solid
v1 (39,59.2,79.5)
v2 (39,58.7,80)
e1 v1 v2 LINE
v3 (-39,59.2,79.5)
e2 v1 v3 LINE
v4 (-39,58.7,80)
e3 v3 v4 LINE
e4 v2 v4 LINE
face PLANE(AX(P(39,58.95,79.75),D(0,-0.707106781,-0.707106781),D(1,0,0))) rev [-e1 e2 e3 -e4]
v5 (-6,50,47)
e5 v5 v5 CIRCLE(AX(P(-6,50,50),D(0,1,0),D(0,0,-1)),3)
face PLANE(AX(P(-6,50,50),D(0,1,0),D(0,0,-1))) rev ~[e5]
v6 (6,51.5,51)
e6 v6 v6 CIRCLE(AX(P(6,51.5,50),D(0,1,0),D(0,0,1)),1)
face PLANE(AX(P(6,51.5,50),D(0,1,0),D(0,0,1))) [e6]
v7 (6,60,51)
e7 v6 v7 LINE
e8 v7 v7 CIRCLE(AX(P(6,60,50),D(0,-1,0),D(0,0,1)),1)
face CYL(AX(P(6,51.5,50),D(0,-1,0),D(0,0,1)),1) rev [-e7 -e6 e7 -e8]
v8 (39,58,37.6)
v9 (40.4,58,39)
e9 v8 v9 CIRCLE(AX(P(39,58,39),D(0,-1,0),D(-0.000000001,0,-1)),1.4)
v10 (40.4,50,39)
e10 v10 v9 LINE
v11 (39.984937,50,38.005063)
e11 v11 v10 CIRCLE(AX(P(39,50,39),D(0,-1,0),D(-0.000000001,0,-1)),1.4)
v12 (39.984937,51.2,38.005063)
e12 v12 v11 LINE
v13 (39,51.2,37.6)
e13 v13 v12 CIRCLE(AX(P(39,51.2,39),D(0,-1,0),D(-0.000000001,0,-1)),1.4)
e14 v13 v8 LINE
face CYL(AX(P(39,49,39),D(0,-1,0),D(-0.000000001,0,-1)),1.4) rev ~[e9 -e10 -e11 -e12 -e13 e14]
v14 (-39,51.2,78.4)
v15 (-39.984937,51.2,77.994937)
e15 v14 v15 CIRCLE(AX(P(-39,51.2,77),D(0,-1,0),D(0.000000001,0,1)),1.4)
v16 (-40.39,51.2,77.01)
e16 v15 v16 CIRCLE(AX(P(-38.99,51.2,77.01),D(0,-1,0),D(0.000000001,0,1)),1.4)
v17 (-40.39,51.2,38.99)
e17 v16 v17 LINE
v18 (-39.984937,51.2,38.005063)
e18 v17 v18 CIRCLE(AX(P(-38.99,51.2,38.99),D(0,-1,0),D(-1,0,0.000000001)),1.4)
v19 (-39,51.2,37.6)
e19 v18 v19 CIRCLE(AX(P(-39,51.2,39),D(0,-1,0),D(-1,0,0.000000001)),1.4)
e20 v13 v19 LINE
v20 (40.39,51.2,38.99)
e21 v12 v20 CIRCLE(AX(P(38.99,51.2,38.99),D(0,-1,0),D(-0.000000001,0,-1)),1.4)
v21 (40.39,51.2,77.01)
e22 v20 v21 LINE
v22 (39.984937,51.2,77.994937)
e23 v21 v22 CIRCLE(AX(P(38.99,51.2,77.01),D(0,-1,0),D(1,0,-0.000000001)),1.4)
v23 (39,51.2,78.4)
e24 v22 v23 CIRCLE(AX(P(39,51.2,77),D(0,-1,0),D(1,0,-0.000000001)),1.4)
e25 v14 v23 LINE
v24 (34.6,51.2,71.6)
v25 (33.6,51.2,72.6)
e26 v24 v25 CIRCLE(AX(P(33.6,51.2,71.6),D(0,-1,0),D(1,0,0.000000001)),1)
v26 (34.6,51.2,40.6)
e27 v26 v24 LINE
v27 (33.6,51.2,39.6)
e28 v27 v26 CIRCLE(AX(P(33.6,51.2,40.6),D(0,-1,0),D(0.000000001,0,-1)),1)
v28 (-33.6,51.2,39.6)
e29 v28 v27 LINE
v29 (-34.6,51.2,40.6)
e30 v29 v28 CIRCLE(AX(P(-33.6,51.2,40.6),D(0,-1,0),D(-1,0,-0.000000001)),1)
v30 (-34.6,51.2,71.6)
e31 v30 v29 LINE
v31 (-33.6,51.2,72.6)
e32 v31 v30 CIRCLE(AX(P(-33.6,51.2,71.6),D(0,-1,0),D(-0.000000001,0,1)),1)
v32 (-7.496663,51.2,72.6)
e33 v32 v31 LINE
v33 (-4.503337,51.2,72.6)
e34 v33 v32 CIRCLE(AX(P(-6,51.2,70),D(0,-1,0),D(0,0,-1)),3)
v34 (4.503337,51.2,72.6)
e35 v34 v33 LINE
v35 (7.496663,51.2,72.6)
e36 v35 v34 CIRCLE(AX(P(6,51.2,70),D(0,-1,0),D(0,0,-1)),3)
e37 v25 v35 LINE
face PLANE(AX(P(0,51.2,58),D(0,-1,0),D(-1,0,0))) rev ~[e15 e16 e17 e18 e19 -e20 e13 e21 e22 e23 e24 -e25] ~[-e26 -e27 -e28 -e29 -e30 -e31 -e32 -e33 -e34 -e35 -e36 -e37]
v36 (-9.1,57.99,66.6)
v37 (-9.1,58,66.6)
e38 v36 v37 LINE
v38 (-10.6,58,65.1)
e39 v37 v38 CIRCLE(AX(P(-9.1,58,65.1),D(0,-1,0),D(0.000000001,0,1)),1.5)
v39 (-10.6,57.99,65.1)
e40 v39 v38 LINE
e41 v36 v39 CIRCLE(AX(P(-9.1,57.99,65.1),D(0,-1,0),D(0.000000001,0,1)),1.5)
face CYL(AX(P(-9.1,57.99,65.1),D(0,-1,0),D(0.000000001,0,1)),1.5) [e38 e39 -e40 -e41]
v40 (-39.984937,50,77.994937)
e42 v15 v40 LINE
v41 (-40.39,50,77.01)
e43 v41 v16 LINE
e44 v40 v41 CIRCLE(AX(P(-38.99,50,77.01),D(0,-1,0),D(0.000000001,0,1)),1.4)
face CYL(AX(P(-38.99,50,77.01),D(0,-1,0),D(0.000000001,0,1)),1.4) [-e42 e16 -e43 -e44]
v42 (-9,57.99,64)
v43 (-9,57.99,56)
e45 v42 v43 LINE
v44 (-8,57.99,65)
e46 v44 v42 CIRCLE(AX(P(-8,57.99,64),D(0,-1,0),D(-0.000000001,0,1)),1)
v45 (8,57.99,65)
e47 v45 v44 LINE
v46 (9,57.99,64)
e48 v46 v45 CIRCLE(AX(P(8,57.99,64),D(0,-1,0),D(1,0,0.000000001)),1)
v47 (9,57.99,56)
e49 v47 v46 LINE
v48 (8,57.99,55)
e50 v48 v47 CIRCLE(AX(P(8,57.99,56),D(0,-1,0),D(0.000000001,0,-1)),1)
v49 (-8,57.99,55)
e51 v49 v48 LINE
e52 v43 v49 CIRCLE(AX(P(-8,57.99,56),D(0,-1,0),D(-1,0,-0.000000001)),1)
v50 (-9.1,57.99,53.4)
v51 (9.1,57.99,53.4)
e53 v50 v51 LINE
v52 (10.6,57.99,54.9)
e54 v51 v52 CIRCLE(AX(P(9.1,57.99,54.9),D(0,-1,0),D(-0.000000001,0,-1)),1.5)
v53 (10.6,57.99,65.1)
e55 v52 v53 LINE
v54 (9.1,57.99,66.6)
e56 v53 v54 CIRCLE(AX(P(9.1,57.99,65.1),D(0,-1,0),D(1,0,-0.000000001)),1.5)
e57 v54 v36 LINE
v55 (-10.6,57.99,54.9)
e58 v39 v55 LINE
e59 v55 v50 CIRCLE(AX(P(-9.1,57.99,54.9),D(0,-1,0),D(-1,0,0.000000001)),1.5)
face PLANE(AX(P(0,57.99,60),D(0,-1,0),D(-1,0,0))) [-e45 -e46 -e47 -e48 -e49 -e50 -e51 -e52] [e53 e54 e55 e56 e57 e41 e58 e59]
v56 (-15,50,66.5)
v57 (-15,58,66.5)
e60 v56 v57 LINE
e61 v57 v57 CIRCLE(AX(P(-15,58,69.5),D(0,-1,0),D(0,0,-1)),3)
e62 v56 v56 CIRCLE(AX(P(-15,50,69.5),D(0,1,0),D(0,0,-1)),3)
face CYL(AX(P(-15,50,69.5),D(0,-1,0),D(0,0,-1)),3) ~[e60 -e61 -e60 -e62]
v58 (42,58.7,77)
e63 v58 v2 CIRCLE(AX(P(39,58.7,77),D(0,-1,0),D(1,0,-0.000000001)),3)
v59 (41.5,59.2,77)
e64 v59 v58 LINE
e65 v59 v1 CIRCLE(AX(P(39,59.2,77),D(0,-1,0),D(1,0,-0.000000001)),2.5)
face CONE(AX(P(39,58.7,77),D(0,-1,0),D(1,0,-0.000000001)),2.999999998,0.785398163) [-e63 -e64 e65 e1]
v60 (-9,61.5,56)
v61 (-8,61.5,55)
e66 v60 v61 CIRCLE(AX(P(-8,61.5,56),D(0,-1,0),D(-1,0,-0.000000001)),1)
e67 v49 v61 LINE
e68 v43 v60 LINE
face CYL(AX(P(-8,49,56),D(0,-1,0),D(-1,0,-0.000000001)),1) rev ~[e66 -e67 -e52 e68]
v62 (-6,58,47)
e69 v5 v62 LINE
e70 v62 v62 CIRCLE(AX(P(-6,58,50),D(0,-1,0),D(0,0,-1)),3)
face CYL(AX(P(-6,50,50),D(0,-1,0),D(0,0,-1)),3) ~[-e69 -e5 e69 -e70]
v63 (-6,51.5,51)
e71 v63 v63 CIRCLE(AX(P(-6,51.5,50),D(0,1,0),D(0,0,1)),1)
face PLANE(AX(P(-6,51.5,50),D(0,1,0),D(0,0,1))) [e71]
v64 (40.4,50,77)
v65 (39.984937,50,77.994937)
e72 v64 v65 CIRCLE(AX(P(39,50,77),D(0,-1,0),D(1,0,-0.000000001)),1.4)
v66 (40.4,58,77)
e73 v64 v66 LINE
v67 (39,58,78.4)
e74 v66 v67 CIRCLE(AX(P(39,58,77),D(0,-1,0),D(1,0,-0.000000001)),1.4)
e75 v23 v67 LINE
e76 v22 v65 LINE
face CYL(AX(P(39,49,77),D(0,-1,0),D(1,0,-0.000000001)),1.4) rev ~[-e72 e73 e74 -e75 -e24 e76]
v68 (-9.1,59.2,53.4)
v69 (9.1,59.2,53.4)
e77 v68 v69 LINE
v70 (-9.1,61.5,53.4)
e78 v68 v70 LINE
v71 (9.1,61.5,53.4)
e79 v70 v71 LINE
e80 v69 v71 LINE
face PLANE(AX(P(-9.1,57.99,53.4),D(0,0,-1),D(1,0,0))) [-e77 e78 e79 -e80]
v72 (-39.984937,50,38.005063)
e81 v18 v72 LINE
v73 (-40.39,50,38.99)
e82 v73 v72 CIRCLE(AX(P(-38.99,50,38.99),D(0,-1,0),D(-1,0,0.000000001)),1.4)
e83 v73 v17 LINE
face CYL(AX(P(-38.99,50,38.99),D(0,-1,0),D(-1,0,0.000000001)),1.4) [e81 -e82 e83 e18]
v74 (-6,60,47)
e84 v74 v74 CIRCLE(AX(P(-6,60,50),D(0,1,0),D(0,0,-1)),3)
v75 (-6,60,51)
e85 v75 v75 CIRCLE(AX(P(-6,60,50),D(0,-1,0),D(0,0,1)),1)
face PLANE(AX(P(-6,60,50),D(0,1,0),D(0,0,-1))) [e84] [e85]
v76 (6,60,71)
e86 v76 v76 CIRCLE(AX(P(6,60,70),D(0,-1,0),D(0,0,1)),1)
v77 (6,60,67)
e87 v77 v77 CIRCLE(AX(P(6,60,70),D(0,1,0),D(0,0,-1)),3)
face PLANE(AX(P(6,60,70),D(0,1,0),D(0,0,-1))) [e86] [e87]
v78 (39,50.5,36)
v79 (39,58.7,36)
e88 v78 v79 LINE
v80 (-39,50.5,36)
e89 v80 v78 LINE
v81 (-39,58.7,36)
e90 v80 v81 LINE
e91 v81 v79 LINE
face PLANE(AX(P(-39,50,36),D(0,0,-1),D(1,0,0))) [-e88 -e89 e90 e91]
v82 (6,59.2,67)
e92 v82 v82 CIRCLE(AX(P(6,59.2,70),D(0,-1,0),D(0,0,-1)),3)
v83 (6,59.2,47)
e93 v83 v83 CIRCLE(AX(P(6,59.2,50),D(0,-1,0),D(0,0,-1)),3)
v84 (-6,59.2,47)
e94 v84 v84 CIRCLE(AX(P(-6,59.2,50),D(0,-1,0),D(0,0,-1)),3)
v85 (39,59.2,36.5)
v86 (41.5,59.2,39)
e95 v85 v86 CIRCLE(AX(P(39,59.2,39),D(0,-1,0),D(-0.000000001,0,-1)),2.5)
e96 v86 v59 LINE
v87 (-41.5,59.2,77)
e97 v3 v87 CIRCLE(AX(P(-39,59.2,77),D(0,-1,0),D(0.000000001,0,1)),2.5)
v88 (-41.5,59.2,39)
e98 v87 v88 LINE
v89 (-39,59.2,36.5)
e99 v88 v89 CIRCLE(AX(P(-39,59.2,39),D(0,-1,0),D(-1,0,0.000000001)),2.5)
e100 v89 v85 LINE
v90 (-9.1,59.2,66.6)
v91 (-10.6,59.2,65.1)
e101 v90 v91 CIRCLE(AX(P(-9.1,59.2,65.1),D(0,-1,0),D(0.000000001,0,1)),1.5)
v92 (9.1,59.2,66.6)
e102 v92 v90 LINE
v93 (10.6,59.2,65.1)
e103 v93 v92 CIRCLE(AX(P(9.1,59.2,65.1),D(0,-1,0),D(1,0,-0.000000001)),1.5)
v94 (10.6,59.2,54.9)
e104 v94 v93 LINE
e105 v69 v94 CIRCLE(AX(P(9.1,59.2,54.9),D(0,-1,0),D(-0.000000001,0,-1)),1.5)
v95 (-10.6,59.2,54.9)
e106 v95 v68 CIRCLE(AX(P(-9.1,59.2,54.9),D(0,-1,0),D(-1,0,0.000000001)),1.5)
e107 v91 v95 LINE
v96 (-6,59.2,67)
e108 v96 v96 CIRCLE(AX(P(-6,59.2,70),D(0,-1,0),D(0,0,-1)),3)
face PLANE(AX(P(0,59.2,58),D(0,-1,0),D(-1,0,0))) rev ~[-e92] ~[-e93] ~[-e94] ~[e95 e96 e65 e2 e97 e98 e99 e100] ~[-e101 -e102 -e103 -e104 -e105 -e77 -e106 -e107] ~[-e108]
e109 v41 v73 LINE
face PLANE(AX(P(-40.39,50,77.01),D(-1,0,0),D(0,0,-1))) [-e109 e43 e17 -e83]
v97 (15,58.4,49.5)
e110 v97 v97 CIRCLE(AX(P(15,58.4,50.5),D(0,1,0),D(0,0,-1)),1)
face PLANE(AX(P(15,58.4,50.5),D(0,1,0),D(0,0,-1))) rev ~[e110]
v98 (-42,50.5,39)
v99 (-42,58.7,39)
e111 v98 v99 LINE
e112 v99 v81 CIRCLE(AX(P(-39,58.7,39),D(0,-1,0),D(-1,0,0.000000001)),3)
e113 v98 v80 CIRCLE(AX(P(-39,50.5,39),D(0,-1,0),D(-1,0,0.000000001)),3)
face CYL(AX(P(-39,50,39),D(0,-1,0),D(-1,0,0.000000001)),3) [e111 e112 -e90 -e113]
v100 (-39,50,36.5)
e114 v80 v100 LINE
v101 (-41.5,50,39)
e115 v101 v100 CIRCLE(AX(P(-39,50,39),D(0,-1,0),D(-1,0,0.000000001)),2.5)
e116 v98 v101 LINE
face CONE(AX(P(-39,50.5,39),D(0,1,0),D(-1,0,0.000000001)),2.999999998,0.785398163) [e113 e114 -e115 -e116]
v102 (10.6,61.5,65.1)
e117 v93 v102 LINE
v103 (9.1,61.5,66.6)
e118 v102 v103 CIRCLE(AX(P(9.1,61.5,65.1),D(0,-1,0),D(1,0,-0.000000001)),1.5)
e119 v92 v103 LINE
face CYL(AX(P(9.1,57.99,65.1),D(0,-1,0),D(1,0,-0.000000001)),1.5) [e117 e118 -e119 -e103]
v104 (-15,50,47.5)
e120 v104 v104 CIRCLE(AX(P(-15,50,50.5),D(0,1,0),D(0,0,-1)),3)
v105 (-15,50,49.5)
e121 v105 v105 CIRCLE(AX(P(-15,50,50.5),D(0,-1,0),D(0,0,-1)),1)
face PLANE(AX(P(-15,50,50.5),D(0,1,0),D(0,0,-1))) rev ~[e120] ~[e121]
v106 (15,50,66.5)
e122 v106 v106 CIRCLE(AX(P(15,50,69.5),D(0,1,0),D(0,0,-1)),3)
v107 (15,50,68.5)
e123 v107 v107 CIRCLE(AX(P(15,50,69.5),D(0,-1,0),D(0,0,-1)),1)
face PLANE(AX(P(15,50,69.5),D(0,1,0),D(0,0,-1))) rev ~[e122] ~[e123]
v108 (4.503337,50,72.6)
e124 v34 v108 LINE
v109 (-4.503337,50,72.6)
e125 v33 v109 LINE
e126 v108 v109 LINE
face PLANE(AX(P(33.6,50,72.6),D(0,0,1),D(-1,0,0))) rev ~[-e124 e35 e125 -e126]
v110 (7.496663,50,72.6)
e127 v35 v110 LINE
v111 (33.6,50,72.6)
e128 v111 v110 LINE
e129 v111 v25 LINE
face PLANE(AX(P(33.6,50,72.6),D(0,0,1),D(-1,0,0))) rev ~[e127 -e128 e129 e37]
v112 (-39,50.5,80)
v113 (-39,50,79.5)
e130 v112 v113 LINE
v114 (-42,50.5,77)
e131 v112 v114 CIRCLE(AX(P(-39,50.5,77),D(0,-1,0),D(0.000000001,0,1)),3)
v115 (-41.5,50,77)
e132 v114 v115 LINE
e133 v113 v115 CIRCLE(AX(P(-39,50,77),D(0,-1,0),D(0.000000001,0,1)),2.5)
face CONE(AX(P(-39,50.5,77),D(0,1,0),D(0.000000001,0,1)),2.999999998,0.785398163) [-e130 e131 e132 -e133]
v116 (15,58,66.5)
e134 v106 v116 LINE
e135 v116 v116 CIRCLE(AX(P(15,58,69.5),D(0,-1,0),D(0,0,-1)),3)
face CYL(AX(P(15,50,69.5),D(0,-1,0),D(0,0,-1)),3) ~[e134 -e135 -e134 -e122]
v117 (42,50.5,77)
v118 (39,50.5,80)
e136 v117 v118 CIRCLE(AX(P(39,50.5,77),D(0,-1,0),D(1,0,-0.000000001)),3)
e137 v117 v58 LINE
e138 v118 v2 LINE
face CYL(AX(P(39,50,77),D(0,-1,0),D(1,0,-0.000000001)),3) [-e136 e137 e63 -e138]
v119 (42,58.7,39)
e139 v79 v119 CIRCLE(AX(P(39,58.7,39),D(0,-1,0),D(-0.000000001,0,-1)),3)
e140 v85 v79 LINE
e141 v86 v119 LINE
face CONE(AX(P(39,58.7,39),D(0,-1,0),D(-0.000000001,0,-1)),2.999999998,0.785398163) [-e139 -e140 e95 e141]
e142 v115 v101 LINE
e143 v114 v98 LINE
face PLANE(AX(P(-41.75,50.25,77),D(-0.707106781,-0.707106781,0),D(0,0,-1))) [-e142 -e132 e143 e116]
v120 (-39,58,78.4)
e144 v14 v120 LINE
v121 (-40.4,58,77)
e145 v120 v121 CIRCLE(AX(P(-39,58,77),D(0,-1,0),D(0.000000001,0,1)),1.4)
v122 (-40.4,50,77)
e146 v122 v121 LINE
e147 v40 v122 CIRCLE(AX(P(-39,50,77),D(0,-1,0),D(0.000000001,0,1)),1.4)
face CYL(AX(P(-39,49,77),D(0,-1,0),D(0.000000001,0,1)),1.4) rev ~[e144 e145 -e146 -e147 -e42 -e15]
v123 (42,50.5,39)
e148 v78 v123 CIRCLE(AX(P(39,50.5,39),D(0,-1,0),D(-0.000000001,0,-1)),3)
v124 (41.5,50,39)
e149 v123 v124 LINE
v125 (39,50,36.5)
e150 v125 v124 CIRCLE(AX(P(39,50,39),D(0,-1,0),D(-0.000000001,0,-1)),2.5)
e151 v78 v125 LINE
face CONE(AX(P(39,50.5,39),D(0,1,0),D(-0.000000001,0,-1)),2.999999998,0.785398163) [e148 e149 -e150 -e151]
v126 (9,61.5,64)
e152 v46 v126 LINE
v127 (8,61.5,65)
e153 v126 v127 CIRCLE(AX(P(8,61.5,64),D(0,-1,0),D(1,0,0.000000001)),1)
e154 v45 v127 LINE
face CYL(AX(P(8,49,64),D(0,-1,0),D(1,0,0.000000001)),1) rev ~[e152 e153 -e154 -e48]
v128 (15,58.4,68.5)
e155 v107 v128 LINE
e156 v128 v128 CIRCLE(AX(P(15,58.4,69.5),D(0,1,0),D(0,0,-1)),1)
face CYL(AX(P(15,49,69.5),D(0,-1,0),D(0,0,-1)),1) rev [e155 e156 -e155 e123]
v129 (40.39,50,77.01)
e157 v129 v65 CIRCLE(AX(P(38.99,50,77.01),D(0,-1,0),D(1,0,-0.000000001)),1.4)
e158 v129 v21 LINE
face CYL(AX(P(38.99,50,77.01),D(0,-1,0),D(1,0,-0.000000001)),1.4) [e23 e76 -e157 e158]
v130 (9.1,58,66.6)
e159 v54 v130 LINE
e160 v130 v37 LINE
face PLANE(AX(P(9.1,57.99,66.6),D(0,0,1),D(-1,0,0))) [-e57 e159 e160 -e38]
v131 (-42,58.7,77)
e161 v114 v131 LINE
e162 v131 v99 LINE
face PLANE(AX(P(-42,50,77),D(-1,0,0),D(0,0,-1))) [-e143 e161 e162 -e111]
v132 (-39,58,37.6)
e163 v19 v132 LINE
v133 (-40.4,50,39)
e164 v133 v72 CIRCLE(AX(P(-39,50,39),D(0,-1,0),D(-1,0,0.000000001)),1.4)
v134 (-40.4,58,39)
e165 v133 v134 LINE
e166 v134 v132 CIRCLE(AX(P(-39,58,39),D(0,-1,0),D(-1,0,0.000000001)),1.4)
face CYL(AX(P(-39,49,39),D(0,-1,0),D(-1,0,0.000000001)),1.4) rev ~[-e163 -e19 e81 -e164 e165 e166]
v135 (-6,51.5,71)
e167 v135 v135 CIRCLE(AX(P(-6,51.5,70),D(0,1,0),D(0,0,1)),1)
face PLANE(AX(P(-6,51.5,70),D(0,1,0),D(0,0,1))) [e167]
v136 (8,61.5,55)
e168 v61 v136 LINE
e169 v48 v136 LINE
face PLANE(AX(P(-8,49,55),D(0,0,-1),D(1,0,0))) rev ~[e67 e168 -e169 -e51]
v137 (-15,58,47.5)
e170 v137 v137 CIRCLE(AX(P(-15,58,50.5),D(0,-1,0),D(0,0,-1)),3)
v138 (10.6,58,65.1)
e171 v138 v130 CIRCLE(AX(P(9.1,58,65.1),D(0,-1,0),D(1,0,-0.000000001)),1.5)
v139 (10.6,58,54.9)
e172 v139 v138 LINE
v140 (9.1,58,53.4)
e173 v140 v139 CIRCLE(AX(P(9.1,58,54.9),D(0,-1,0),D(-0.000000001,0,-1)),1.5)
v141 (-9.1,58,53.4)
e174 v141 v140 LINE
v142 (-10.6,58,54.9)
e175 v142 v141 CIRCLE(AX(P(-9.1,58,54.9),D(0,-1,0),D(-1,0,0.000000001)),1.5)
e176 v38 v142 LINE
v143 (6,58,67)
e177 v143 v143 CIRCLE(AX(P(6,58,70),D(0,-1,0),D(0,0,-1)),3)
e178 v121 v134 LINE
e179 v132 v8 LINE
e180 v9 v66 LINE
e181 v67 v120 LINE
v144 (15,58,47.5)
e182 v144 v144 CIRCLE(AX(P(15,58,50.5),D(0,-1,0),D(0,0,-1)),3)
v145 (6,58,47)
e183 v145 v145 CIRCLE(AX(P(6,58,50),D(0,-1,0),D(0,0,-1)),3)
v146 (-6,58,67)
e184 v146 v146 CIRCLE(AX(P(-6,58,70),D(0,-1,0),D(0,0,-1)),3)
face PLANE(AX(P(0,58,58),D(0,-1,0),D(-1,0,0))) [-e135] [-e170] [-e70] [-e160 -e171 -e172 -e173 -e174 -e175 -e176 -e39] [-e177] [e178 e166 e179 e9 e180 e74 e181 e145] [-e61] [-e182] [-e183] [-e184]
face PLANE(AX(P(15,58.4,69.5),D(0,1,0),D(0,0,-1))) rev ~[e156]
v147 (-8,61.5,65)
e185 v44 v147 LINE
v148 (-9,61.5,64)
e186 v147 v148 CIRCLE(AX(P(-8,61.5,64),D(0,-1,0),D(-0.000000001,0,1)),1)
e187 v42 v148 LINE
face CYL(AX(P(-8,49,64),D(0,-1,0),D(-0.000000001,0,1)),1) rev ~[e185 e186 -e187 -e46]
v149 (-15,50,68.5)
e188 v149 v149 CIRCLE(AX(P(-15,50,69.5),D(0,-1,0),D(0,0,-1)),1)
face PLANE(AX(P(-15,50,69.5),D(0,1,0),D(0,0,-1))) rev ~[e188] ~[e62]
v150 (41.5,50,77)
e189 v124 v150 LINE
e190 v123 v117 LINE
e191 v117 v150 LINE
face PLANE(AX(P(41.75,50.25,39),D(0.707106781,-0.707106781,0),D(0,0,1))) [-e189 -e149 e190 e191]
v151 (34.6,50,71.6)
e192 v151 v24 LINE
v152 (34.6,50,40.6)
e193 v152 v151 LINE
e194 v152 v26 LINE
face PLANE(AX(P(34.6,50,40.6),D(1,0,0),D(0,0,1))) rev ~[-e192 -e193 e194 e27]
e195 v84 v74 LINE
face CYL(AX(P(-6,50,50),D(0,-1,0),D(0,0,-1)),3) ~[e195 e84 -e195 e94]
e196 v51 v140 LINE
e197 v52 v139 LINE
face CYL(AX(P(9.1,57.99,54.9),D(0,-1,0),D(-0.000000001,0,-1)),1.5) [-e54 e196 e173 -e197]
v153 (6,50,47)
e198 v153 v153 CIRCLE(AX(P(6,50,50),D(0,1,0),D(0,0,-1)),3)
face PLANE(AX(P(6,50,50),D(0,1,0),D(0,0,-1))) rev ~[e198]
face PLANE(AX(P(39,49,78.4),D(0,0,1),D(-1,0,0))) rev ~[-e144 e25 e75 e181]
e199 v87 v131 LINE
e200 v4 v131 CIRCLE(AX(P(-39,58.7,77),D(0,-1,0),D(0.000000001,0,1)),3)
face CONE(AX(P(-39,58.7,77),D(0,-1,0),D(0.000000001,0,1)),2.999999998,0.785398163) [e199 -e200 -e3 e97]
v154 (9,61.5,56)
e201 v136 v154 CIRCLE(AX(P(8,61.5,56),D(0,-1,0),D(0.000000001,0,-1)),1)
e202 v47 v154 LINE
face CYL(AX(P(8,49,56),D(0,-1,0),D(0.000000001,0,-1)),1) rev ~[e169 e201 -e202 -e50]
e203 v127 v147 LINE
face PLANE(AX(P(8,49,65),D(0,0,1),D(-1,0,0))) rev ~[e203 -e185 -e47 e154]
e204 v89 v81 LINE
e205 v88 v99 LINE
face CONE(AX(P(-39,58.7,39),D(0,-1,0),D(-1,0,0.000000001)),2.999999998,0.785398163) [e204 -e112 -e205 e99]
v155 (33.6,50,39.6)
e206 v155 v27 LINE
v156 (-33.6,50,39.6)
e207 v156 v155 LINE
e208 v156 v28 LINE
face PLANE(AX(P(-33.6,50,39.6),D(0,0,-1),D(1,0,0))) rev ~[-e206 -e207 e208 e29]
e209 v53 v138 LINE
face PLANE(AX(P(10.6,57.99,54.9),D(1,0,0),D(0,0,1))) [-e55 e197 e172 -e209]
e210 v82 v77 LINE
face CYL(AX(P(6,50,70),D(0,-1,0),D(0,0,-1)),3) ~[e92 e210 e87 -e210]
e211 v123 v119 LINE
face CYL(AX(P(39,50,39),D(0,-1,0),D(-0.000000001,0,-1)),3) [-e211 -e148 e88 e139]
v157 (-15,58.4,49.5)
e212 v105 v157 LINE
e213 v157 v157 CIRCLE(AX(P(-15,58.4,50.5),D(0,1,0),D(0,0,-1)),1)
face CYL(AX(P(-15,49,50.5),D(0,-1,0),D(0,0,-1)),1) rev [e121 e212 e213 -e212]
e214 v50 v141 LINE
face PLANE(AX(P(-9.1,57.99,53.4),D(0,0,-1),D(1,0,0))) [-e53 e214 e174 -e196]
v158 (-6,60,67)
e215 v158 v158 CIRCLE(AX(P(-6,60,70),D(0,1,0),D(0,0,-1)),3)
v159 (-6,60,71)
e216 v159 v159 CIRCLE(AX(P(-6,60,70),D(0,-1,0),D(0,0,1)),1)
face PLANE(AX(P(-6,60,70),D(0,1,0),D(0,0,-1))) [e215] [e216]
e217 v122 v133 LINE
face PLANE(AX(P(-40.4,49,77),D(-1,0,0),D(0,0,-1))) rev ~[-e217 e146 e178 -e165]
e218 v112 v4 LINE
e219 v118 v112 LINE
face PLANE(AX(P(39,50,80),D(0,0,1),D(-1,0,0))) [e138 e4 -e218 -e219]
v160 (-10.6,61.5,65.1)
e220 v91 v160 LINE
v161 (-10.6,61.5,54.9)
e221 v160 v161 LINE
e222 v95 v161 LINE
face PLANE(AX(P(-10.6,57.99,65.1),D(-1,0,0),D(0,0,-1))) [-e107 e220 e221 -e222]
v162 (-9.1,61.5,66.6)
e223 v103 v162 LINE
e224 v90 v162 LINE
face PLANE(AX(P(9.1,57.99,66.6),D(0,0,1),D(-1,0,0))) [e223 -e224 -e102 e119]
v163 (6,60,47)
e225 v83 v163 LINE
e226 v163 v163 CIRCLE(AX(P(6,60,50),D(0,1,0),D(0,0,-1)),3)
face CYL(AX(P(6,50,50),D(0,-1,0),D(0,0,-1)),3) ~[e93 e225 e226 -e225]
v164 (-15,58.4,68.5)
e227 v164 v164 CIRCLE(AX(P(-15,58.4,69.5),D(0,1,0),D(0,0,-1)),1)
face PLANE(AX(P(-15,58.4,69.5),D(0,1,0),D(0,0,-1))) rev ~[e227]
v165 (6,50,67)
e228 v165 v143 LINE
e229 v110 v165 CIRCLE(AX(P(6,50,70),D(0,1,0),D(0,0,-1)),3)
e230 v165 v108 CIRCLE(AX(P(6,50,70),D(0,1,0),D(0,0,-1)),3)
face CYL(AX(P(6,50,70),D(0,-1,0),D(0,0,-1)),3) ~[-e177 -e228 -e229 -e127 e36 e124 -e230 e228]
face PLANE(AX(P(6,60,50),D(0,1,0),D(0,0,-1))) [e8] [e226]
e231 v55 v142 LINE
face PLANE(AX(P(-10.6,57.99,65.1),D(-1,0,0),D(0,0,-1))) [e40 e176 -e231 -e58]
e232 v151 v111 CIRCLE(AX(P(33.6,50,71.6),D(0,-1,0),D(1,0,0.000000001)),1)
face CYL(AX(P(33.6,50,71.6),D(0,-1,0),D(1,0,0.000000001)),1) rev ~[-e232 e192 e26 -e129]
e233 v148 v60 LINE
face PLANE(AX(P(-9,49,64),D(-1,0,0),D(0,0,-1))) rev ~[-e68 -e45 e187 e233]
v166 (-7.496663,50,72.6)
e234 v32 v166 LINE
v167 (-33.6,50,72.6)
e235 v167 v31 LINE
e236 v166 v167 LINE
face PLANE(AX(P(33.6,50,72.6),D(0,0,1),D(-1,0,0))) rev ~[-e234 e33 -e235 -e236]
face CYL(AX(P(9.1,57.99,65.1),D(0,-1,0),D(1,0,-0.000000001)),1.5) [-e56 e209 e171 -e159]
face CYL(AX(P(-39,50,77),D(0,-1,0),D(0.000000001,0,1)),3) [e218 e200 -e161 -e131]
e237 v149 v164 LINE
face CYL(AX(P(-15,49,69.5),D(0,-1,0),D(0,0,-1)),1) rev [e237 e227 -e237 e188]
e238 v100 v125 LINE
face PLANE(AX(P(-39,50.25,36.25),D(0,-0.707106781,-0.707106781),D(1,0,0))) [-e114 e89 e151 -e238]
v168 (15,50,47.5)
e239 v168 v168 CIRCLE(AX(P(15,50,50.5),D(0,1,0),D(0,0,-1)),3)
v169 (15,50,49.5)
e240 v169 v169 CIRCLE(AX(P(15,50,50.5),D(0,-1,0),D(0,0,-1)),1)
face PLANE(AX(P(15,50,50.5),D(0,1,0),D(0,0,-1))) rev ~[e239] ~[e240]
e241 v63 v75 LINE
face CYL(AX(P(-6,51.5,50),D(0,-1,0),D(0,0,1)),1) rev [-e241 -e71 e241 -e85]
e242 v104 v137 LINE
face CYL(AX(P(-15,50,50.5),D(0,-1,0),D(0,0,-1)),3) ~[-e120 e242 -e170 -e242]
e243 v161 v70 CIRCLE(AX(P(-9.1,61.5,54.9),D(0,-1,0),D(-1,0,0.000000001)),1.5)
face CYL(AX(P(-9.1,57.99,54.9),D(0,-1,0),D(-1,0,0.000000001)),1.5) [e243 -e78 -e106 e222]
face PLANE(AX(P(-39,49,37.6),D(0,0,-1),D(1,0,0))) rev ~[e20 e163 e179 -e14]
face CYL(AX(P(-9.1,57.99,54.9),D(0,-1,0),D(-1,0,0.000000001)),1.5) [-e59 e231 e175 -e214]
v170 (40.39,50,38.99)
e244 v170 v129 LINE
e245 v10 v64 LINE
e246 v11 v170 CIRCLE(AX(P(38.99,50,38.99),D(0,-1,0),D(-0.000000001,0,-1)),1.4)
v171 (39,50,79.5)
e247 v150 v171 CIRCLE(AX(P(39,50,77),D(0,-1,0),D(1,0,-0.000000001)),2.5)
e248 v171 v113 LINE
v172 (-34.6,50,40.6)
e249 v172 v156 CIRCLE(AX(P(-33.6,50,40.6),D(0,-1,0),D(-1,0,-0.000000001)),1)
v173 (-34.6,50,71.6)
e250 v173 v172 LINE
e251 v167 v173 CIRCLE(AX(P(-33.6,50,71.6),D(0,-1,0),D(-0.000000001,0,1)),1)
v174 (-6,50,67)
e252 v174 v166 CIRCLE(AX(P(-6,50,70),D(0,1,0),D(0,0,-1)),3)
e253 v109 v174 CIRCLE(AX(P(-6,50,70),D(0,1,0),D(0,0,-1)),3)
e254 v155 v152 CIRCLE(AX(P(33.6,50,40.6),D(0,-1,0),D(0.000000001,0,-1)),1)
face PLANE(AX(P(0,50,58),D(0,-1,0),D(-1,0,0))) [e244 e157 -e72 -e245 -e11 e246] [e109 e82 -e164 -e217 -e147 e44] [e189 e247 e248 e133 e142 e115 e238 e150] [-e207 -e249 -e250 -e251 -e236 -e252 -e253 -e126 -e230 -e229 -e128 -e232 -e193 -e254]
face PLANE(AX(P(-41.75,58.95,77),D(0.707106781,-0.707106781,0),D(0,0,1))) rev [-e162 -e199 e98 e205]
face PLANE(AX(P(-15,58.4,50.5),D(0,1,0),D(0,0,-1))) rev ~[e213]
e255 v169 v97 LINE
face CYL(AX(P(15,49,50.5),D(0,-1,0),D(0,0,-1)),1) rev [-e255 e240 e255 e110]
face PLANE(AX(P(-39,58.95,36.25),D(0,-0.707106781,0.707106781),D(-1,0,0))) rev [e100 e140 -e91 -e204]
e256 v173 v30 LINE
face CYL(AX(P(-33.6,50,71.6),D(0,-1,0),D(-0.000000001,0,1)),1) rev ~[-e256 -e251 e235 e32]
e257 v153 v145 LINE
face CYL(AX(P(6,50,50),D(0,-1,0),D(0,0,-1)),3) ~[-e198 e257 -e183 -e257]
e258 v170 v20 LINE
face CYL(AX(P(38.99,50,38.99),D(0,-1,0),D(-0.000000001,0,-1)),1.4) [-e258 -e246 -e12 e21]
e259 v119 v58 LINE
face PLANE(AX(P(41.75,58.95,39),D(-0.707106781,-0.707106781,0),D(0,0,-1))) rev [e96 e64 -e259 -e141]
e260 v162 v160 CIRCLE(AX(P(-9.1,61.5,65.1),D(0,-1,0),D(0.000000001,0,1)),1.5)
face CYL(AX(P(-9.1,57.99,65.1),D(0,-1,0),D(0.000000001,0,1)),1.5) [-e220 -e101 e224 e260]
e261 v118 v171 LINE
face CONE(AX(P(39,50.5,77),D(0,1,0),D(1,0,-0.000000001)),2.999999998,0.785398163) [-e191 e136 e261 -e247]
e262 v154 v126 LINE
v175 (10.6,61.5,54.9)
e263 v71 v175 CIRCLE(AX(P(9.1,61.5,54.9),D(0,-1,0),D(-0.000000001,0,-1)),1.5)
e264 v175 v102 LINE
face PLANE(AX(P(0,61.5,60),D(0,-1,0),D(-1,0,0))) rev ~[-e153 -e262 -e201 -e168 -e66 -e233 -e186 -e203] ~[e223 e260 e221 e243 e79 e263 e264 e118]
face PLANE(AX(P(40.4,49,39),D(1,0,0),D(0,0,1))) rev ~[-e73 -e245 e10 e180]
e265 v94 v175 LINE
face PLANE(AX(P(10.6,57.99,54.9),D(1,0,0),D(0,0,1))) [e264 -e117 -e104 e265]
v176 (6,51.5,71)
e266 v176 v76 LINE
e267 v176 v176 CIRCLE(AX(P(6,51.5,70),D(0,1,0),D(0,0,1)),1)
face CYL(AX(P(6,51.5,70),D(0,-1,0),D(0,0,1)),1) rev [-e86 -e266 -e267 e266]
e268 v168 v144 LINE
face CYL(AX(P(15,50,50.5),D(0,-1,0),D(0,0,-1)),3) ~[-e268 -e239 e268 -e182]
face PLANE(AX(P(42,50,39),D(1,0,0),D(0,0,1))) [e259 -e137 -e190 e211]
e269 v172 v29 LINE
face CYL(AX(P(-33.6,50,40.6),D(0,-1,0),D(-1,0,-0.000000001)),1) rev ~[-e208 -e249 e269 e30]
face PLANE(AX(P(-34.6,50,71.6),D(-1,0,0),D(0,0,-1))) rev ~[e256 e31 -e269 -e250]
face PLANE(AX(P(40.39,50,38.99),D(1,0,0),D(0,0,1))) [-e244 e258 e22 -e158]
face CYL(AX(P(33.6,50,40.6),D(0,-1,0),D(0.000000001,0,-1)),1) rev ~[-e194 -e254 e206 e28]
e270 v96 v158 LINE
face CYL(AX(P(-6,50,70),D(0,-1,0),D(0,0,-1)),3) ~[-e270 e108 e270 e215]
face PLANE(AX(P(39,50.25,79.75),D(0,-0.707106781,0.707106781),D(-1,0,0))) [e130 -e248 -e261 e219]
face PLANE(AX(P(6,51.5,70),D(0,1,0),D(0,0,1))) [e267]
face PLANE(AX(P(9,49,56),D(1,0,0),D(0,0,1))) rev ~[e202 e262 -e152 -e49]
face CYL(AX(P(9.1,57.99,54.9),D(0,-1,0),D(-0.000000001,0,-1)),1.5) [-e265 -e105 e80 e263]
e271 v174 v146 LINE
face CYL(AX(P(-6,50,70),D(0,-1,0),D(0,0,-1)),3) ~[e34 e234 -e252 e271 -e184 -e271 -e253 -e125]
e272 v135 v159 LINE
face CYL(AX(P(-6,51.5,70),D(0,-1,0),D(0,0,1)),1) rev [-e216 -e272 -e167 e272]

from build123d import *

# Parameters (mm, degrees)
BOSS_EXTRUDE1_START  = 50
BOSS_EXTRUDE1_DEPTH  = 9.2
CHAMFER1_SIZE        = 0.5
CHAMFER2_SIZE        = 0.5
BOSS_EXTRUDE2_START  = 49
BOSS_EXTRUDE2_DEPTH  = 9
BOSS_EXTRUDE3_START  = 50
SKETCH3_R            = 3
BOSS_EXTRUDE3_DEPTH  = 8.01
BOSS_EXTRUDE4_START  = 49
SKETCH4_R            = 1
BOSS_EXTRUDE4_DEPTH  = 9.4
BOSS_EXTRUDE5_START  = 50
SKETCH5_R            = 3
BOSS_EXTRUDE5_DEPTH  = 8.01
BOSS_EXTRUDE6_START  = 49
SKETCH6_R            = 1
BOSS_EXTRUDE6_DEPTH  = 9.4
BOSS_EXTRUDE7_START  = 50
SKETCH7_R            = 3
BOSS_EXTRUDE7_DEPTH  = 8.01
BOSS_EXTRUDE8_START  = 49
SKETCH8_R            = 1
BOSS_EXTRUDE8_DEPTH  = 9.4
BOSS_EXTRUDE9_START  = 50
SKETCH9_R            = 3
BOSS_EXTRUDE9_DEPTH  = 8.01
BOSS_EXTRUDE10_START = 49
SKETCH10_R           = 1
BOSS_EXTRUDE10_DEPTH = 9.4
BOSS_EXTRUDE11_START = 50
SKETCH11_R           = 3
BOSS_EXTRUDE11_DEPTH = 10
BOSS_EXTRUDE12_START = 51.5
SKETCH12_R           = 1
BOSS_EXTRUDE12_DEPTH = 9.5
BOSS_EXTRUDE13_START = 50
SKETCH13_R           = 3
BOSS_EXTRUDE13_DEPTH = 10
BOSS_EXTRUDE14_START = 51.5
SKETCH14_R           = 1
BOSS_EXTRUDE14_DEPTH = 9.5
BOSS_EXTRUDE15_START = 50
SKETCH15_R           = 3
BOSS_EXTRUDE15_DEPTH = 10
BOSS_EXTRUDE16_START = 51.5
SKETCH16_R           = 1
BOSS_EXTRUDE16_DEPTH = 9.5
BOSS_EXTRUDE17_START = 50
SKETCH17_R           = 3
BOSS_EXTRUDE17_DEPTH = 10
BOSS_EXTRUDE18_START = 51.5
SKETCH18_R           = 1
BOSS_EXTRUDE18_DEPTH = 9.5
BOSS_EXTRUDE19_START = 50
BOSS_EXTRUDE19_DEPTH = 1.2
BOSS_EXTRUDE20_START = 57.99
BOSS_EXTRUDE20_DEPTH = 3.51
BOSS_EXTRUDE21_START = 49
BOSS_EXTRUDE21_DEPTH = 13


with BuildPart() as part:
    # Sketch1 → Boss-Extrude1 (new body)
    with BuildSketch(Plane(origin=(0, 0, 0), x_dir=(1, 0, 0), z_dir=(0, 1, 0)).offset(BOSS_EXTRUDE1_START)):
        with BuildLine():
            Line((-39, -36), (39, -36))
            ThreePointArc((39, -36), (41.121320344, -36.878679656), (42, -39))
            Line((42, -39), (42, -77))
            ThreePointArc((42, -77), (41.121320344, -79.121320344), (39, -80))
            Line((39, -80), (-39, -80))
            ThreePointArc((-39, -80), (-41.121320344, -79.121320344), (-42, -77))
            Line((-42, -77), (-42, -39))
            ThreePointArc((-42, -39), (-41.121320344, -36.878679656), (-39, -36))
        make_face()
    extrude(amount=BOSS_EXTRUDE1_DEPTH)

    # Chamfer1
    chamfer1_edges = [part.edges().sort_by_distance(p)[0] for p in [
        (0, 50, 36),
        (-41.121320344, 50, 36.878679656),
        (41.121320344, 50, 36.878679656),
        (-42, 50, 58),
        (42, 50, 58),
        (-41.121320344, 50, 79.121320344),
        (41.121320344, 50, 79.121320344),
        (0, 50, 80),
    ]]
    chamfer(chamfer1_edges, length=CHAMFER1_SIZE)

    # Chamfer2
    chamfer2_edges = [part.edges().sort_by_distance(p)[0] for p in [
        (0, 59.2, 36),
        (-41.121320344, 59.2, 36.878679656),
        (41.121320344, 59.2, 36.878679656),
        (-42, 59.2, 58),
        (42, 59.2, 58),
        (-41.121320344, 59.2, 79.121320344),
        (41.121320344, 59.2, 79.121320344),
        (0, 59.2, 80),
    ]]
    chamfer(chamfer2_edges, length=CHAMFER2_SIZE)


with BuildPart() as body_2:
    # Sketch2 → Boss-Extrude2 (new body)
    with BuildSketch(Plane(origin=(0, 0, 0), x_dir=(1, 0, 0), z_dir=(0, 1, 0)).offset(BOSS_EXTRUDE2_START)):
        with BuildLine():
            Line((-39, -37.6), (39, -37.6))
            ThreePointArc((39, -37.6), (39.989949494, -38.010050506), (40.4, -39))
            Line((40.4, -39), (40.4, -77))
            ThreePointArc((40.4, -77), (39.989949494, -77.989949494), (39, -78.4))
            Line((39, -78.4), (-39, -78.4))
            ThreePointArc((-39, -78.4), (-39.989949494, -77.989949494), (-40.4, -77))
            Line((-40.4, -77), (-40.4, -39))
            ThreePointArc((-40.4, -39), (-39.989949494, -38.010050506), (-39, -37.6))
        make_face()
    extrude(amount=BOSS_EXTRUDE2_DEPTH)


with BuildPart() as part_1:
    add(part.part)

    # Combine1: cut body 2
    add(body_2.part, mode=Mode.SUBTRACT)

    # Sketch3 → Boss-Extrude3 (add)
    with BuildSketch(Plane(origin=(0, 0, 0), x_dir=(1, 0, 0), z_dir=(0, 1, 0)).offset(BOSS_EXTRUDE3_START)):
        with Locations((-15, -50.5)):
            Circle(SKETCH3_R)
    extrude(amount=BOSS_EXTRUDE3_DEPTH)


with BuildPart() as body_2_2:
    # Sketch4 → Boss-Extrude4 (new body)
    with BuildSketch(Plane(origin=(0, 0, 0), x_dir=(1, 0, 0), z_dir=(0, 1, 0)).offset(BOSS_EXTRUDE4_START)):
        with Locations((-15, -50.5)):
            Circle(SKETCH4_R)
    extrude(amount=BOSS_EXTRUDE4_DEPTH)


with BuildPart() as part_2:
    add(part_1.part)

    # Combine2: cut body 2 2
    add(body_2_2.part, mode=Mode.SUBTRACT)

    # Sketch5 → Boss-Extrude5 (add)
    with BuildSketch(Plane(origin=(0, 0, 0), x_dir=(1, 0, 0), z_dir=(0, 1, 0)).offset(BOSS_EXTRUDE5_START)):
        with Locations((-15, -69.5)):
            Circle(SKETCH5_R)
    extrude(amount=BOSS_EXTRUDE5_DEPTH)


with BuildPart() as body_2_3:
    # Sketch6 → Boss-Extrude6 (new body)
    with BuildSketch(Plane(origin=(0, 0, 0), x_dir=(1, 0, 0), z_dir=(0, 1, 0)).offset(BOSS_EXTRUDE6_START)):
        with Locations((-15, -69.5)):
            Circle(SKETCH6_R)
    extrude(amount=BOSS_EXTRUDE6_DEPTH)


with BuildPart() as part_3:
    add(part_2.part)

    # Combine3: cut body 2 3
    add(body_2_3.part, mode=Mode.SUBTRACT)

    # Sketch7 → Boss-Extrude7 (add)
    with BuildSketch(Plane(origin=(0, 0, 0), x_dir=(1, 0, 0), z_dir=(0, 1, 0)).offset(BOSS_EXTRUDE7_START)):
        with Locations((15, -50.5)):
            Circle(SKETCH7_R)
    extrude(amount=BOSS_EXTRUDE7_DEPTH)


with BuildPart() as body_2_4:
    # Sketch8 → Boss-Extrude8 (new body)
    with BuildSketch(Plane(origin=(0, 0, 0), x_dir=(1, 0, 0), z_dir=(0, 1, 0)).offset(BOSS_EXTRUDE8_START)):
        with Locations((15, -50.5)):
            Circle(SKETCH8_R)
    extrude(amount=BOSS_EXTRUDE8_DEPTH)


with BuildPart() as part_4:
    add(part_3.part)

    # Combine4: cut body 2 4
    add(body_2_4.part, mode=Mode.SUBTRACT)

    # Sketch9 → Boss-Extrude9 (add)
    with BuildSketch(Plane(origin=(0, 0, 0), x_dir=(1, 0, 0), z_dir=(0, 1, 0)).offset(BOSS_EXTRUDE9_START)):
        with Locations((15, -69.5)):
            Circle(SKETCH9_R)
    extrude(amount=BOSS_EXTRUDE9_DEPTH)


with BuildPart() as body_2_5:
    # Sketch10 → Boss-Extrude10 (new body)
    with BuildSketch(Plane(origin=(0, 0, 0), x_dir=(1, 0, 0), z_dir=(0, 1, 0)).offset(BOSS_EXTRUDE10_START)):
        with Locations((15, -69.5)):
            Circle(SKETCH10_R)
    extrude(amount=BOSS_EXTRUDE10_DEPTH)


with BuildPart() as part_5:
    add(part_4.part)

    # Combine5: cut body 2 5
    add(body_2_5.part, mode=Mode.SUBTRACT)

    # Sketch11 → Boss-Extrude11 (add)
    with BuildSketch(Plane(origin=(0, 0, 0), x_dir=(1, 0, 0), z_dir=(0, 1, 0)).offset(BOSS_EXTRUDE11_START)):
        with Locations((-6, -50)):
            Circle(SKETCH11_R)
    extrude(amount=BOSS_EXTRUDE11_DEPTH)


with BuildPart() as body_2_6:
    # Sketch12 → Boss-Extrude12 (new body)
    with BuildSketch(Plane(origin=(0, 0, 0), x_dir=(1, 0, 0), z_dir=(0, 1, 0)).offset(BOSS_EXTRUDE12_START)):
        with Locations((-6, -50)):
            Circle(SKETCH12_R)
    extrude(amount=BOSS_EXTRUDE12_DEPTH)


with BuildPart() as part_6:
    add(part_5.part)

    # Combine6: cut body 2 6
    add(body_2_6.part, mode=Mode.SUBTRACT)

    # Sketch13 → Boss-Extrude13 (add)
    with BuildSketch(Plane(origin=(0, 0, 0), x_dir=(1, 0, 0), z_dir=(0, 1, 0)).offset(BOSS_EXTRUDE13_START)):
        with Locations((-6, -70)):
            Circle(SKETCH13_R)
    extrude(amount=BOSS_EXTRUDE13_DEPTH)


with BuildPart() as body_2_7:
    # Sketch14 → Boss-Extrude14 (new body)
    with BuildSketch(Plane(origin=(0, 0, 0), x_dir=(1, 0, 0), z_dir=(0, 1, 0)).offset(BOSS_EXTRUDE14_START)):
        with Locations((-6, -70)):
            Circle(SKETCH14_R)
    extrude(amount=BOSS_EXTRUDE14_DEPTH)


with BuildPart() as part_7:
    add(part_6.part)

    # Combine7: cut body 2 7
    add(body_2_7.part, mode=Mode.SUBTRACT)

    # Sketch15 → Boss-Extrude15 (add)
    with BuildSketch(Plane(origin=(0, 0, 0), x_dir=(1, 0, 0), z_dir=(0, 1, 0)).offset(BOSS_EXTRUDE15_START)):
        with Locations((6, -50)):
            Circle(SKETCH15_R)
    extrude(amount=BOSS_EXTRUDE15_DEPTH)


with BuildPart() as body_2_8:
    # Sketch16 → Boss-Extrude16 (new body)
    with BuildSketch(Plane(origin=(0, 0, 0), x_dir=(1, 0, 0), z_dir=(0, 1, 0)).offset(BOSS_EXTRUDE16_START)):
        with Locations((6, -50)):
            Circle(SKETCH16_R)
    extrude(amount=BOSS_EXTRUDE16_DEPTH)


with BuildPart() as part_8:
    add(part_7.part)

    # Combine8: cut body 2 8
    add(body_2_8.part, mode=Mode.SUBTRACT)

    # Sketch17 → Boss-Extrude17 (add)
    with BuildSketch(Plane(origin=(0, 0, 0), x_dir=(1, 0, 0), z_dir=(0, 1, 0)).offset(BOSS_EXTRUDE17_START)):
        with Locations((6, -70)):
            Circle(SKETCH17_R)
    extrude(amount=BOSS_EXTRUDE17_DEPTH)


with BuildPart() as body_2_9:
    # Sketch18 → Boss-Extrude18 (new body)
    with BuildSketch(Plane(origin=(0, 0, 0), x_dir=(1, 0, 0), z_dir=(0, 1, 0)).offset(BOSS_EXTRUDE18_START)):
        with Locations((6, -70)):
            Circle(SKETCH18_R)
    extrude(amount=BOSS_EXTRUDE18_DEPTH)


with BuildPart() as part_9:
    add(part_8.part)

    # Combine9: cut body 2 9
    add(body_2_9.part, mode=Mode.SUBTRACT)

    # Sketch19 → Boss-Extrude19 (add)
    with BuildSketch(Plane(origin=(0, 0, 0), x_dir=(1, 0, 0), z_dir=(0, 1, 0)).offset(BOSS_EXTRUDE19_START)):
        with BuildLine():
            Line((-38.99, -37.59), (38.99, -37.59))
            ThreePointArc((38.99, -37.59), (39.979949494, -38.000050506), (40.39, -38.99))
            Line((40.39, -38.99), (40.39, -77.01))
            ThreePointArc((40.39, -77.01), (39.979949494, -77.999949494), (38.99, -78.41))
            Line((38.99, -78.41), (-38.99, -78.41))
            ThreePointArc((-38.99, -78.41), (-39.979949494, -77.999949494), (-40.39, -77.01))
            Line((-40.39, -77.01), (-40.39, -38.99))
            ThreePointArc((-40.39, -38.99), (-39.979949494, -38.000050506), (-38.99, -37.59))
        make_face()
        with BuildLine():
            Line((-33.6, -39.6), (33.6, -39.6))
            ThreePointArc((33.6, -39.6), (34.307106781, -39.892893219), (34.6, -40.6))
            Line((34.6, -40.6), (34.6, -71.6))
            ThreePointArc((34.6, -71.6), (34.307106781, -72.307106781), (33.6, -72.6))
            Line((33.6, -72.6), (-33.6, -72.6))
            ThreePointArc((-33.6, -72.6), (-34.307106781, -72.307106781), (-34.6, -71.6))
            Line((-34.6, -71.6), (-34.6, -40.6))
            ThreePointArc((-34.6, -40.6), (-34.307106781, -39.892893219), (-33.6, -39.6))
        make_face(mode=Mode.SUBTRACT)
    extrude(amount=BOSS_EXTRUDE19_DEPTH)

    # Sketch20 → Boss-Extrude20 (add)
    with BuildSketch(Plane(origin=(0, 0, 0), x_dir=(1, 0, 0), z_dir=(0, 1, 0)).offset(BOSS_EXTRUDE20_START)):
        with BuildLine():
            Line((-9.1, -53.4), (9.1, -53.4))
            ThreePointArc((9.1, -53.4), (10.160660172, -53.839339828), (10.6, -54.9))
            Line((10.6, -54.9), (10.6, -65.1))
            ThreePointArc((10.6, -65.1), (10.160660172, -66.160660172), (9.1, -66.6))
            Line((9.1, -66.6), (-9.1, -66.6))
            ThreePointArc((-9.1, -66.6), (-10.160660172, -66.160660172), (-10.6, -65.1))
            Line((-10.6, -65.1), (-10.6, -54.9))
            ThreePointArc((-10.6, -54.9), (-10.160660172, -53.839339828), (-9.1, -53.4))
        make_face()
    extrude(amount=BOSS_EXTRUDE20_DEPTH)


with BuildPart() as body_2_10:
    # Sketch21 → Boss-Extrude21 (new body)
    with BuildSketch(Plane(origin=(0, 0, 0), x_dir=(1, 0, 0), z_dir=(0, 1, 0)).offset(BOSS_EXTRUDE21_START)):
        with BuildLine():
            Line((-8, -55), (8, -55))
            ThreePointArc((8, -55), (8.707106781, -55.292893219), (9, -56))
            Line((9, -56), (9, -64))
            ThreePointArc((9, -64), (8.707106781, -64.707106781), (8, -65))
            Line((8, -65), (-8, -65))
            ThreePointArc((-8, -65), (-8.707106781, -64.707106781), (-9, -64))
            Line((-9, -64), (-9, -56))
            ThreePointArc((-9, -56), (-8.707106781, -55.292893219), (-8, -55))
        make_face()
    extrude(amount=BOSS_EXTRUDE21_DEPTH)


with BuildPart() as part_10:
    add(part_9.part)

    # Combine10: cut body 2 10
    add(body_2_10.part, mode=Mode.SUBTRACT)


solid = part_10.part
